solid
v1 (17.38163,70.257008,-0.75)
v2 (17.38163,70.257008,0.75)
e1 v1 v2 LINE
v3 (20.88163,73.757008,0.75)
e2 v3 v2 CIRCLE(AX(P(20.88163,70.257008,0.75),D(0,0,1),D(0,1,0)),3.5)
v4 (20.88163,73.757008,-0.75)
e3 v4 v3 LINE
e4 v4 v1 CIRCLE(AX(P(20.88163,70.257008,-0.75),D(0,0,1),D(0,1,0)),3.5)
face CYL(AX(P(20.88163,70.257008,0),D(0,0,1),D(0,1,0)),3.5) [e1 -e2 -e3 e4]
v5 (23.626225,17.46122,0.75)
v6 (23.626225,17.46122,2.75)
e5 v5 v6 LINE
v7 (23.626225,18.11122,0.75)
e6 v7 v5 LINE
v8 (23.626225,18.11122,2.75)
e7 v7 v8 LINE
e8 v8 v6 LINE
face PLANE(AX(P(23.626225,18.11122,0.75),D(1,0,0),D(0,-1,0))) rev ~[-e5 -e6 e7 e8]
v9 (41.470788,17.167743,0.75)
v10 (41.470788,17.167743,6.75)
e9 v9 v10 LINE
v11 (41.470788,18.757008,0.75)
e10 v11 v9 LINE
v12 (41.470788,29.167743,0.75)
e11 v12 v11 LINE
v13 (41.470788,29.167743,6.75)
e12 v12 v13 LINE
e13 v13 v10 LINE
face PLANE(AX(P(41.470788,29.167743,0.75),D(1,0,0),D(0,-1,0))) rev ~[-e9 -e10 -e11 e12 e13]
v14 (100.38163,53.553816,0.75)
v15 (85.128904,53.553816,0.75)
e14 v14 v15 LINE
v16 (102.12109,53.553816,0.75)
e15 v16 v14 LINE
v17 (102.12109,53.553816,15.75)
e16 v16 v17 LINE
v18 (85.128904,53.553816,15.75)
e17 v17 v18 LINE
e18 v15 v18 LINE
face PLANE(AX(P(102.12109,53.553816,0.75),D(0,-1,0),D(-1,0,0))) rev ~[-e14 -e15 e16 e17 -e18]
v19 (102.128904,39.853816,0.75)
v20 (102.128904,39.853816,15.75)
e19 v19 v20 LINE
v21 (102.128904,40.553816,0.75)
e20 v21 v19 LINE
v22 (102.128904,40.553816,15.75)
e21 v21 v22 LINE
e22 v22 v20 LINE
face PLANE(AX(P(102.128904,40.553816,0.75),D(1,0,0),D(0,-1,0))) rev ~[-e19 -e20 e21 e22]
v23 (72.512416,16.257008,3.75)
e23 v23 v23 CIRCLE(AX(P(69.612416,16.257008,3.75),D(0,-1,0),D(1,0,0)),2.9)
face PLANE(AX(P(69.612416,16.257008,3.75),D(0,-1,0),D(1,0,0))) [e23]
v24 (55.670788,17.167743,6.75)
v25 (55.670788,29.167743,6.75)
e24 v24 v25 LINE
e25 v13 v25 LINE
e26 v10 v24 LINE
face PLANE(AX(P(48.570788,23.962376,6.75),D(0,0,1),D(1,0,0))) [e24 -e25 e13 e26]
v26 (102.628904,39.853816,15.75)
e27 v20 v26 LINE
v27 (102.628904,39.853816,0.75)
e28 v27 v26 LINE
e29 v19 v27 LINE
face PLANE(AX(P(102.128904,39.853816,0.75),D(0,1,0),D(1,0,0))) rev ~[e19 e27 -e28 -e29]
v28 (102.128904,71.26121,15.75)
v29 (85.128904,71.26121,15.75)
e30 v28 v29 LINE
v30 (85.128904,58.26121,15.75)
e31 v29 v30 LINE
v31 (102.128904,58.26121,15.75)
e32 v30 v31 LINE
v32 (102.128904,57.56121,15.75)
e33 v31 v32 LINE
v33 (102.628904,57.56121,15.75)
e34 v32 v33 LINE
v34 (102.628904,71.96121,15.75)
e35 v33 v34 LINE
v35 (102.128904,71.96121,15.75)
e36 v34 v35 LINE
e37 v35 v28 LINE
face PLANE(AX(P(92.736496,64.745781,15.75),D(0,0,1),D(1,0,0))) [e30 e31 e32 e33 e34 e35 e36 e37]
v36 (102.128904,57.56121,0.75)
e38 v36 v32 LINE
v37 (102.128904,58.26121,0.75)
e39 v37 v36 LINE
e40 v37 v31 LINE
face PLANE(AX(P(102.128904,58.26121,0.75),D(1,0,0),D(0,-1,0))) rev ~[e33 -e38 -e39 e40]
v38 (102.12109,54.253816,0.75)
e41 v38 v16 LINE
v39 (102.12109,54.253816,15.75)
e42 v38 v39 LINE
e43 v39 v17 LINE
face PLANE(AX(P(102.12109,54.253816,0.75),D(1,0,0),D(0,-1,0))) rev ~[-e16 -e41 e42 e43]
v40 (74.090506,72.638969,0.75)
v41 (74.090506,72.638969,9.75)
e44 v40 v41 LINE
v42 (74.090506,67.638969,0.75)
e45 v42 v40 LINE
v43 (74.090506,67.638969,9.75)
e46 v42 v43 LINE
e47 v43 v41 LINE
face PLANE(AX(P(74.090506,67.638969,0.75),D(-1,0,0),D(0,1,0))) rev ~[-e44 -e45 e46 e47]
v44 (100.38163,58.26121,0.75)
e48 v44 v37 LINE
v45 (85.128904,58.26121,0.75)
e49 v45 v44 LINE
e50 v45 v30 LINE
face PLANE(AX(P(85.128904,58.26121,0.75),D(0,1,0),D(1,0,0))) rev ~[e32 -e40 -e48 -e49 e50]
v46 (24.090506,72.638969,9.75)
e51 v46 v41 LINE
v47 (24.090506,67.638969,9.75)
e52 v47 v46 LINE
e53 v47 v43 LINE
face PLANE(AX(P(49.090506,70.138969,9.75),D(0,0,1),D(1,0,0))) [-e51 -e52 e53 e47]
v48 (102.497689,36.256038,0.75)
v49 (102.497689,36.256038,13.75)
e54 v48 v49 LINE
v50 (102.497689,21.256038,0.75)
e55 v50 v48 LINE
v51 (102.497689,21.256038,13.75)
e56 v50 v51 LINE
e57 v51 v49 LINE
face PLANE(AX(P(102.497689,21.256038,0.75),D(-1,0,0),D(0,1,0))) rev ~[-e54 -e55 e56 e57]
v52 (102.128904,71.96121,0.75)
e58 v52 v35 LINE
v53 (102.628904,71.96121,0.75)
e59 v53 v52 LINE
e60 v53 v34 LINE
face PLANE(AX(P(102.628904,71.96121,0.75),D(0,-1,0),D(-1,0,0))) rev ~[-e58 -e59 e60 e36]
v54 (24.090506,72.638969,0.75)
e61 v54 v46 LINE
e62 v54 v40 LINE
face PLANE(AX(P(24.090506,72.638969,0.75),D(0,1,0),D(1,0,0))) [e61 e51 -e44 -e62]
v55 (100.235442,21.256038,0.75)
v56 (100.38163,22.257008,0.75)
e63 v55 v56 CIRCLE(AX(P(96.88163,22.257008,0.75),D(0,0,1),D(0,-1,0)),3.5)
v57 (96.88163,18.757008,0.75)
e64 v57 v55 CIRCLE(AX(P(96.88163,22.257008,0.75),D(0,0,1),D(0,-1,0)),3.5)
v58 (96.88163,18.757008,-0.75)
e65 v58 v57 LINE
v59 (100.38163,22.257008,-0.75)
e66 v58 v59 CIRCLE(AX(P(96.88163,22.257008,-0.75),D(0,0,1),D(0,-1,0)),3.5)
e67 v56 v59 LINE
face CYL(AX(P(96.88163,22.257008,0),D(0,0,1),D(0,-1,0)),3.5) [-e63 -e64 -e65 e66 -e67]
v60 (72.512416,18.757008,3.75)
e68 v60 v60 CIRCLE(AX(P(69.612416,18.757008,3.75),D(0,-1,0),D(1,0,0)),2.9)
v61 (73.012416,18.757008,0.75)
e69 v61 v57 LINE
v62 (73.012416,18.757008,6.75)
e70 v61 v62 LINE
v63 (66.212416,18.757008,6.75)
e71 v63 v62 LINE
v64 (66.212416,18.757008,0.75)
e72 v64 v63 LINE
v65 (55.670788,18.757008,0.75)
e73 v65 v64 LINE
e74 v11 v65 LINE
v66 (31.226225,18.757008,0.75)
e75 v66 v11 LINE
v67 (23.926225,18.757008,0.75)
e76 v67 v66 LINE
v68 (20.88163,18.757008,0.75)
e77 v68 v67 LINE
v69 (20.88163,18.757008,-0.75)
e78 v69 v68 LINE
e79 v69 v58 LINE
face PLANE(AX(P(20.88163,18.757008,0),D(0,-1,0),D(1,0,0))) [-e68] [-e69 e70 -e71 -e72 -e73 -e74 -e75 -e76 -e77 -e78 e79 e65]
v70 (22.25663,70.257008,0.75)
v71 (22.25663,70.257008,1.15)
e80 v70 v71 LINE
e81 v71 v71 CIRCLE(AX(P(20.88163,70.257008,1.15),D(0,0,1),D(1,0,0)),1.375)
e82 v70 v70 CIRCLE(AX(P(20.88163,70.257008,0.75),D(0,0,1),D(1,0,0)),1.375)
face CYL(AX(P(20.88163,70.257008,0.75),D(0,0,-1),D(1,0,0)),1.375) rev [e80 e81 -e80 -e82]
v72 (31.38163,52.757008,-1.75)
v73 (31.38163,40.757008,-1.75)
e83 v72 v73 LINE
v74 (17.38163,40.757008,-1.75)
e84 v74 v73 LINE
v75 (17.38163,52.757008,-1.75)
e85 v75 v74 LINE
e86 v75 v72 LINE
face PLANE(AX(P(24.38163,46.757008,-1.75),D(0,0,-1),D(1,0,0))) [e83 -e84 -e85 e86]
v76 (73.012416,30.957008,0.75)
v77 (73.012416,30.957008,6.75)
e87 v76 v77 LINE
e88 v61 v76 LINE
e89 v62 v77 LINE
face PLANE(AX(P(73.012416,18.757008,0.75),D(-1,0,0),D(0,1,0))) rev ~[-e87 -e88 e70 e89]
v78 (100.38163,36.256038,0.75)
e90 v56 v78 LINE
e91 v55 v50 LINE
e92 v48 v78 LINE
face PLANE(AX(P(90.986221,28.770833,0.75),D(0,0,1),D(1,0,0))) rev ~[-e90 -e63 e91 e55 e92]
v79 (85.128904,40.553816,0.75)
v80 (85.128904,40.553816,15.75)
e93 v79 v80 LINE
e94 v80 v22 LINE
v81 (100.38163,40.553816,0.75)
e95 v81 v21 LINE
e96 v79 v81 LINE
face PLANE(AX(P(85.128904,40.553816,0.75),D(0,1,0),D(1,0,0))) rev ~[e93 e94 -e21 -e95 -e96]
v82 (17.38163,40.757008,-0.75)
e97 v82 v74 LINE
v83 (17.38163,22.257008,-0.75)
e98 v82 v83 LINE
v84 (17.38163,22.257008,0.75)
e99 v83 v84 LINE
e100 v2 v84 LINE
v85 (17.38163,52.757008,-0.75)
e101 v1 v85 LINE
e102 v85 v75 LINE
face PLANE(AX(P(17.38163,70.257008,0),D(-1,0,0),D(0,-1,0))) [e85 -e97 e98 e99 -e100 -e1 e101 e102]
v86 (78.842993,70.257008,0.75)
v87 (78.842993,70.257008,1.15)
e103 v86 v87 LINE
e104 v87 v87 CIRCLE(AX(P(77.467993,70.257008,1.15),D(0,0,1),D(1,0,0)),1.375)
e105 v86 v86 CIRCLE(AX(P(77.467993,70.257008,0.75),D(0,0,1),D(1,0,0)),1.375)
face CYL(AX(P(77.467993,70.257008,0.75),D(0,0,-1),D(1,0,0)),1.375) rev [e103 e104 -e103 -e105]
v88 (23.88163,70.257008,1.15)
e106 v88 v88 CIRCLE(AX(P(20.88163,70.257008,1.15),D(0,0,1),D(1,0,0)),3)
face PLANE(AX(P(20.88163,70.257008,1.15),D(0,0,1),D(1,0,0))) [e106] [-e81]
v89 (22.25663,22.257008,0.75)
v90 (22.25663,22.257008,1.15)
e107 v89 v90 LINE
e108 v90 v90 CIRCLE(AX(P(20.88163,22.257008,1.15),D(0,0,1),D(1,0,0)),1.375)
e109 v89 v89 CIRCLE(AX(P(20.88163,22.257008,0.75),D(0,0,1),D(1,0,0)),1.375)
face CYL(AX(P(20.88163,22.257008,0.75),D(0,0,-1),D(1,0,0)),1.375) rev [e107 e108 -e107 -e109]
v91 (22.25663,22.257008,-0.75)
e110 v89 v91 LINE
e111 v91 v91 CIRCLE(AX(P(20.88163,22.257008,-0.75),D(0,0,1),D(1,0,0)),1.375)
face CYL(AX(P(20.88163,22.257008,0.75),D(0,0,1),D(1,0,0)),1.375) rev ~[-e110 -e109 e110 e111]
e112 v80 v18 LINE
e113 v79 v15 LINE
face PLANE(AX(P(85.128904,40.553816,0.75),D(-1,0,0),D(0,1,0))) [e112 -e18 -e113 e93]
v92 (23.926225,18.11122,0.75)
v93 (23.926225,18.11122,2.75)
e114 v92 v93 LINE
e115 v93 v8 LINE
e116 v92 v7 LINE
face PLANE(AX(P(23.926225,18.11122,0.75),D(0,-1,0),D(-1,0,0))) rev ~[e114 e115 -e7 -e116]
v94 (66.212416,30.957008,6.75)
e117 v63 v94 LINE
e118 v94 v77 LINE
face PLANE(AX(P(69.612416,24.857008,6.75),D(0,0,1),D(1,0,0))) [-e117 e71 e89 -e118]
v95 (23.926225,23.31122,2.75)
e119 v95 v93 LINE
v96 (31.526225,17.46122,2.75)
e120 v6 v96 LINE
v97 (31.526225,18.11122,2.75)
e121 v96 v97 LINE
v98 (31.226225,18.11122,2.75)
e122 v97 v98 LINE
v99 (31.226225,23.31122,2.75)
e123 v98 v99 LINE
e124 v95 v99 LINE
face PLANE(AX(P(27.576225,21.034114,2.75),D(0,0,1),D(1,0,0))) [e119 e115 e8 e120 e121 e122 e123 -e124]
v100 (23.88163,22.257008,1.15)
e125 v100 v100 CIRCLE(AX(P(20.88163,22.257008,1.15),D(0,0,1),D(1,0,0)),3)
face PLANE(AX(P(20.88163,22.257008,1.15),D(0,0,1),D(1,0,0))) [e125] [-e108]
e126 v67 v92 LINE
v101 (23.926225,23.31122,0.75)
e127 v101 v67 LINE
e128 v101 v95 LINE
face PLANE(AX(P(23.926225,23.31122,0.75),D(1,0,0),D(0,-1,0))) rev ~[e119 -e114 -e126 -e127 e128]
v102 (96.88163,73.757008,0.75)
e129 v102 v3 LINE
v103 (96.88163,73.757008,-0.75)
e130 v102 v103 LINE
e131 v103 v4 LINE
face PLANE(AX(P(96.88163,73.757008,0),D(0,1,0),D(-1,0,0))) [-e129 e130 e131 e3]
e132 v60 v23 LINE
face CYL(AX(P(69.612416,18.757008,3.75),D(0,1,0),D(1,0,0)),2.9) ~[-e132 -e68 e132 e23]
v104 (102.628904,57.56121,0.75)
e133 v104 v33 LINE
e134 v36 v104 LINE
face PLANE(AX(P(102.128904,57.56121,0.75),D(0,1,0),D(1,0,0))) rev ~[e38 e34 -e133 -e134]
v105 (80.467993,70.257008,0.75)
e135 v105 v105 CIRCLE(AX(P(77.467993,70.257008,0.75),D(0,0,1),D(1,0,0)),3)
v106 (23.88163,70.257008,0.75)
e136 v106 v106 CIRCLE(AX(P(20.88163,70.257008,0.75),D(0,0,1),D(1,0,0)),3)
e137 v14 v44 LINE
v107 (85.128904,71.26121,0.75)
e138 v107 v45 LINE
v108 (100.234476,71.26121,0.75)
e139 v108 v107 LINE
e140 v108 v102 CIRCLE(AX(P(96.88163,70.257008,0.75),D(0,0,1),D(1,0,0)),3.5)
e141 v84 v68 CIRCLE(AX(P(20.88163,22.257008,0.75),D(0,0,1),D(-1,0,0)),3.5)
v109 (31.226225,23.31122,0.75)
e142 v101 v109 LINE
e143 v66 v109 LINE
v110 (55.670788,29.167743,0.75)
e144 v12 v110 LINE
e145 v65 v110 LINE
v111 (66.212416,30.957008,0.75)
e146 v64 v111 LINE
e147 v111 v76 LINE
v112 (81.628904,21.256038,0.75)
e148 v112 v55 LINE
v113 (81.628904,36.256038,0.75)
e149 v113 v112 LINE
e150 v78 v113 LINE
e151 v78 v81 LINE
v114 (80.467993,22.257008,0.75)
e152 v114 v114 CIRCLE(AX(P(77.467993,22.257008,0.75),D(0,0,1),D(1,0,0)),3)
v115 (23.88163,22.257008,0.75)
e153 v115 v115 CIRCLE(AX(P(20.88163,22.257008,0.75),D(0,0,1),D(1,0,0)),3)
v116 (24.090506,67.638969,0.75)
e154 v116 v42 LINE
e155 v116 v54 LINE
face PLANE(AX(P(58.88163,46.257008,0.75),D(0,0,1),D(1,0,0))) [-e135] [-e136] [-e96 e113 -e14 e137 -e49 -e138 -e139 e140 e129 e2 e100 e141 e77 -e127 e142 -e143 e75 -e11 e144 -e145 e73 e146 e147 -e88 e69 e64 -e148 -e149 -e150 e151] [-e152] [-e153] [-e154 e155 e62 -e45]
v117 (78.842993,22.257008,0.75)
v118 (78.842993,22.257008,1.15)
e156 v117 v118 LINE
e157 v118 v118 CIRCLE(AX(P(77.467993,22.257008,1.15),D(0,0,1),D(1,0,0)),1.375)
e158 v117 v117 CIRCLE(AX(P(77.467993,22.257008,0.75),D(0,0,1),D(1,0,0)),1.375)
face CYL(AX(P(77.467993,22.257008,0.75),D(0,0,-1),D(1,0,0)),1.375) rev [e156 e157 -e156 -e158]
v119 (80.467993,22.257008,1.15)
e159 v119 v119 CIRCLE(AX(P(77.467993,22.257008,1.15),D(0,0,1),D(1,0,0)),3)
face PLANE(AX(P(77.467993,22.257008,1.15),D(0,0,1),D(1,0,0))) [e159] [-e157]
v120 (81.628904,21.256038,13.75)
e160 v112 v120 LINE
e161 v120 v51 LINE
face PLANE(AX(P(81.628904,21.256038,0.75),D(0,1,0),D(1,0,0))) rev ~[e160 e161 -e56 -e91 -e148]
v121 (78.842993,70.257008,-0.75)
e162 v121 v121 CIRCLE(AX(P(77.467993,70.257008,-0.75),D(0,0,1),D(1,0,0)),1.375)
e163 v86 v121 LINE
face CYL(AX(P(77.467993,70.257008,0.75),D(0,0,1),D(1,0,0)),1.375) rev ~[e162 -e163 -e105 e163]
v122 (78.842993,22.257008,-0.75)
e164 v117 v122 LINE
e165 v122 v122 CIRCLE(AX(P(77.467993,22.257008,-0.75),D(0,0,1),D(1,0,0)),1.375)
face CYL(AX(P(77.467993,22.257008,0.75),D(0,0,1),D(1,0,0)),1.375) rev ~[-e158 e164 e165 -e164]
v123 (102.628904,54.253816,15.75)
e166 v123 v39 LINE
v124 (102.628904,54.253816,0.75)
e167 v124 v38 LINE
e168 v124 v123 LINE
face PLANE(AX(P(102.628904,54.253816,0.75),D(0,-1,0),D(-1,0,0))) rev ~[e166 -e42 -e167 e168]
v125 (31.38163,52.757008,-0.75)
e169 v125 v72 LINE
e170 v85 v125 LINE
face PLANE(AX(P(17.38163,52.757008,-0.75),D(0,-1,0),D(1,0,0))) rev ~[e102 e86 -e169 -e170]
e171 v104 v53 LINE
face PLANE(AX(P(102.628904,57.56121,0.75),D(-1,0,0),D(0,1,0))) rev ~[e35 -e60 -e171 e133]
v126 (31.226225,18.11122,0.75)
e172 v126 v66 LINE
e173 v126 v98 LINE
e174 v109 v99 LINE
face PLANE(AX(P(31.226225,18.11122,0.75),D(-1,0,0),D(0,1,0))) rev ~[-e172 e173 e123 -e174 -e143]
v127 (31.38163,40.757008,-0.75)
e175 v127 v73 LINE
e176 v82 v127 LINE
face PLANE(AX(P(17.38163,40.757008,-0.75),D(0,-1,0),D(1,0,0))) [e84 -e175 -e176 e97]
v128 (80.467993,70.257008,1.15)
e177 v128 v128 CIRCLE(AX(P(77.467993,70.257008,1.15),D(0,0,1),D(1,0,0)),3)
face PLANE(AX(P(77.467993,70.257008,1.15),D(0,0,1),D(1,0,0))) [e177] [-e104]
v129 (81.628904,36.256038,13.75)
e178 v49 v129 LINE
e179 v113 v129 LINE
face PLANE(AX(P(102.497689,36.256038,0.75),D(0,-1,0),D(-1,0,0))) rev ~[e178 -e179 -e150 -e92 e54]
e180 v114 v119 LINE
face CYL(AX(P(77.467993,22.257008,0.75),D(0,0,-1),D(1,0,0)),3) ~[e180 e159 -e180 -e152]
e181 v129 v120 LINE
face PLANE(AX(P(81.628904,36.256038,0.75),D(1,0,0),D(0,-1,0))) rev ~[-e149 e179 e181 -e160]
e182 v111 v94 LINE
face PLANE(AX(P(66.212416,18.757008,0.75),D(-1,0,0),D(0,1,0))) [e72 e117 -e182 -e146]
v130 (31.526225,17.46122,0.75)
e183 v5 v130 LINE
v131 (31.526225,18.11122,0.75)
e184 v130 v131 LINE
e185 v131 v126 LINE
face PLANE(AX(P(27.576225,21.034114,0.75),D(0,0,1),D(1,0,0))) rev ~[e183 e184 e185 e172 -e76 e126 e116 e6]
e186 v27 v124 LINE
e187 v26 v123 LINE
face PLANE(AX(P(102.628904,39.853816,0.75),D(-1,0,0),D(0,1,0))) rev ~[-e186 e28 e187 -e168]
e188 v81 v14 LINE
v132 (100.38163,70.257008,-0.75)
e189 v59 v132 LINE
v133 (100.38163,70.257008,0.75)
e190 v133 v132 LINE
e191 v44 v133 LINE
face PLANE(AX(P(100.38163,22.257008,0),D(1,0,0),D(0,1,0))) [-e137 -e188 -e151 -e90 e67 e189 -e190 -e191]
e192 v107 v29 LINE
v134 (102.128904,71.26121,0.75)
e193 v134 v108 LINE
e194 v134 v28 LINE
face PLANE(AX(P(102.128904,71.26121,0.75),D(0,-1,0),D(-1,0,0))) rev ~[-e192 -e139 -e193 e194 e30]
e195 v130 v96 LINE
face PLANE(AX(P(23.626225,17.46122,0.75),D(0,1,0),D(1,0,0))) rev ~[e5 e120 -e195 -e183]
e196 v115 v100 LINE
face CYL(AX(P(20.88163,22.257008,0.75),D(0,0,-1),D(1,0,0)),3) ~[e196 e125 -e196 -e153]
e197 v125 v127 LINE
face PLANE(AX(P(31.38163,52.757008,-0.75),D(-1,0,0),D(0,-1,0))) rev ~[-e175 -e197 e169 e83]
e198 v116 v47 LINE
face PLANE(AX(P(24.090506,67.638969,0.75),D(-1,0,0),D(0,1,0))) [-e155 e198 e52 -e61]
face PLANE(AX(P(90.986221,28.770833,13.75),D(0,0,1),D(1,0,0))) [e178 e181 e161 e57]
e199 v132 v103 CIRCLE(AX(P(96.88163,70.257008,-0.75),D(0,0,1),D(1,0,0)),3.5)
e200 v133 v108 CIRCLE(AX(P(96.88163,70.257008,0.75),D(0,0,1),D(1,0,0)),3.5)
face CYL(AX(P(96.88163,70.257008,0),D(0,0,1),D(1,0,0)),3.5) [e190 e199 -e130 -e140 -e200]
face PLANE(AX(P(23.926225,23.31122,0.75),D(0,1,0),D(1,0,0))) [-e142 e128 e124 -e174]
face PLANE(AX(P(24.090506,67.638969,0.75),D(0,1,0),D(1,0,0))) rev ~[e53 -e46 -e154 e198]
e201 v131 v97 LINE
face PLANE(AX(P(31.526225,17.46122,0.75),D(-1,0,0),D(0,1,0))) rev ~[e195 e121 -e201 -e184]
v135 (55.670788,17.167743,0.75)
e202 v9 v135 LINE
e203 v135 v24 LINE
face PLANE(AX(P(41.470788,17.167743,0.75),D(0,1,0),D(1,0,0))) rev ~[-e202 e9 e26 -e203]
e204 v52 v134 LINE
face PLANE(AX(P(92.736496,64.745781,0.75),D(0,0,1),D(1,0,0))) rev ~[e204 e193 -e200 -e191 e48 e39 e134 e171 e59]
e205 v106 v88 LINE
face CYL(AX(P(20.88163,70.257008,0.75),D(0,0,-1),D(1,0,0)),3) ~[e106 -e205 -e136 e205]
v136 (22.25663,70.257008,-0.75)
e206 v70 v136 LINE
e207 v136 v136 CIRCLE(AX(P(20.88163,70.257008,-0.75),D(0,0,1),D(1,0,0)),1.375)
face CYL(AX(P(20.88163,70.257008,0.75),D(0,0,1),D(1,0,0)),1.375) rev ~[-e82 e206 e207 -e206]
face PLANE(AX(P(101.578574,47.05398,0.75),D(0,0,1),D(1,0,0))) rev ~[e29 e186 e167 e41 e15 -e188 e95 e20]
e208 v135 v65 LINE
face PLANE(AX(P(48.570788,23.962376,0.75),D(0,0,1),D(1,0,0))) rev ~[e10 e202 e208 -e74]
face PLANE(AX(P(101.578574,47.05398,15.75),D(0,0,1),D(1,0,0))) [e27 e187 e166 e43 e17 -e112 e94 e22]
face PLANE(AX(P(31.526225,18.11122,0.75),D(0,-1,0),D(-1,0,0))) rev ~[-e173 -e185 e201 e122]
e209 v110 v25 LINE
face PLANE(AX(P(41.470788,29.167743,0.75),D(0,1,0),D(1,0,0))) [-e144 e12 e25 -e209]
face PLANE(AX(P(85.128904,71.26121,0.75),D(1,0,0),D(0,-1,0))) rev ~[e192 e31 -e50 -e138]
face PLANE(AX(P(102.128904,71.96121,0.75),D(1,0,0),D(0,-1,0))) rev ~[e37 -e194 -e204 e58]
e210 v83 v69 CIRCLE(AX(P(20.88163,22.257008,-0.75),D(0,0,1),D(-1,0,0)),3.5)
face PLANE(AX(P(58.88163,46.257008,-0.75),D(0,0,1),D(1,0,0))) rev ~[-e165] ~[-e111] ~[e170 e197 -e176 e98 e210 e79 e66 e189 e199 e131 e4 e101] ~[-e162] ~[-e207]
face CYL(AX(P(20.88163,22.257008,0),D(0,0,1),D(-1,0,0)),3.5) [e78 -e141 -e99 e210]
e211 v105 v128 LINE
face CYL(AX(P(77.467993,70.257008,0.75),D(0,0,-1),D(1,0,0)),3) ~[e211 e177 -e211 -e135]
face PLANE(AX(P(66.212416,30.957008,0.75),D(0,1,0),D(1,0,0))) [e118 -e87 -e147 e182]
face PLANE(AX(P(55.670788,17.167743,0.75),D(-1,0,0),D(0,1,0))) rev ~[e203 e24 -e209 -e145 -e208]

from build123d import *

# Parameters (mm, degrees)
F1_DEPTH  = 0.75
F2_W      = 15.2527261972
F2_H      = 13
F3_DEPTH  = 15
F4_DEPTH  = 2
F5_W      = 50
F5_H      = 5
F6_DEPTH  = 9
F7_W      = 7.3
F7_H      = 4.5542112009
F7_W_2    = 14.2
F7_H_2    = 10.4107348667
F7_W_3    = 6.8
F7_H_3    = 12.2
F7_H_4    = 1.5892651333
F8_DEPTH  = 6
F9_DEPTH  = 4
F10_W     = 14
F10_H     = 12
F11_DEPTH = 1
F12_R     = 2.9
F13_DEPTH = 2.5
F14_R     = 3
F14_R_2   = 1.375
F15_DEPTH = 0.4
F16_DEPTH = 25


with BuildPart() as f1:
    # F0 (on Top) → F1 (new body, symmetric)
    with BuildSketch(Plane.XY):
        with BuildLine():
            Line((96.8816299438, 73.7570084287), (20.8816299438, 73.7570084287))
            ThreePointArc((20.8816299438, 73.7570084287), (18.4067562097, 72.7318821628), (17.3816299438, 70.2570084287))
            Line((17.3816299438, 70.2570084287), (17.3816299438, 22.2570084287))
            ThreePointArc((17.3816299438, 22.2570084287), (18.4067562097, 19.7821346945), (20.8816299438, 18.7570084287))
            Line((20.8816299438, 18.7570084287), (96.8816299438, 18.7570084287))
            ThreePointArc((96.8816299438, 18.7570084287), (99.356503678, 19.7821346945), (100.3816299438, 22.2570084287))
            Line((100.3816299438, 22.2570084287), (100.3816299438, 70.2570084287))
            ThreePointArc((100.3816299438, 70.2570084287), (99.356503678, 72.7318821628), (96.8816299438, 73.7570084287))
        make_face()
    extrude(amount=F1_DEPTH, both=True)

    # F2 (on face) → F3 (join)
    with BuildSketch(Plane.XY.offset(0.75)):
        with BuildLine():
            Line((100.2344762848, 71.2612103079), (85.1289037466, 71.2612103079))
            Line((85.1289037466, 71.2612103079), (85.1289037466, 58.2612103079))
            Line((85.1289037466, 58.2612103079), (100.3816299438, 58.2612103079))
            Line((100.3816299438, 58.2612103079), (100.3816299438, 70.2570084287))
            ThreePointArc((100.3816299438, 70.2570084287), (100.3446461287, 70.7644716327), (100.2344762848, 71.2612103079))
        make_face()
        with BuildLine():
            Line((102.1289037466, 71.2612103079), (100.2344762848, 71.2612103079))
            ThreePointArc((100.2344762848, 71.2612103079), (100.3446461287, 70.7644716327), (100.3816299438, 70.2570084287))
            Line((100.3816299438, 70.2570084287), (100.3816299438, 58.2612103079))
            Line((100.3816299438, 58.2612103079), (102.1289037466, 58.2612103079))
            Line((102.1289037466, 58.2612103079), (102.1289037466, 57.5612103079))
            Line((102.1289037466, 57.5612103079), (102.6289037466, 57.5612103079))
            Line((102.6289037466, 57.5612103079), (102.6289037466, 71.9612103079))
            Line((102.6289037466, 71.9612103079), (102.1289037466, 71.9612103079))
            Line((102.1289037466, 71.9612103079), (102.1289037466, 71.2612103079))
        make_face()
        Polygon((102.1210900545, 53.5538156629), (100.3816299438, 53.5538156629), (100.3816299438, 40.5538156629), (102.1289037466, 40.5538156629), (102.1289037466, 39.8538156629), (102.6289037466, 39.8538156629), (102.6289037466, 54.2538156629), (102.1210900545, 54.2538156629), align=None)
        with Locations((92.7552668452, 47.0538156629)):
            Rectangle(F2_W, F2_H)
        with BuildLine():
            Line((100.3816299438, 22.2570084287), (100.3816299438, 36.2560376525))
            Line((100.3816299438, 36.2560376525), (85.1289037466, 36.2560376525))
            Line((85.1289037466, 36.2560376525), (81.6289037466, 36.2560376525))
            Line((81.6289037466, 36.2560376525), (81.6289037466, 21.2560376525))
            Line((81.6289037466, 21.2560376525), (85.1289037466, 21.2560376525))
            Line((85.1289037466, 21.2560376525), (100.2354423276, 21.2560376525))
            ThreePointArc((100.2354423276, 21.2560376525), (100.3448902101, 21.7512136793), (100.3816299438, 22.2570084287))
        make_face()
        with BuildLine():
            Line((102.4976894259, 36.2560376525), (100.3816299438, 36.2560376525))
            Line((100.3816299438, 36.2560376525), (100.3816299438, 22.2570084287))
            ThreePointArc((100.3816299438, 22.2570084287), (100.3448902101, 21.7512136793), (100.2354423276, 21.2560376525))
            Line((100.2354423276, 21.2560376525), (102.4976894259, 21.2560376525))
            Line((102.4976894259, 21.2560376525), (102.4976894259, 36.2560376525))
        make_face()
    extrude(amount=F3_DEPTH)

    # F4 (cut): a face of the model
    f4_faces = [f1.faces().sort_by_distance(p)[0] for p in [
        (92.0632965863, 28.7560376525, 15.75),
    ]]
    extrude(f4_faces, amount=-F4_DEPTH, mode=Mode.SUBTRACT)

    # F5 (on face) → F6 (join)
    with BuildSketch(Plane.XY.offset(0.75)):
        with Locations((49.090506424, 70.1389685273)):
            Rectangle(F5_W, F5_H)
    extrude(amount=F6_DEPTH)

    # F7 (on face) → F8 (join)
    with BuildSketch(Plane.XY.offset(0.75)):
        with Locations((27.5762250692, 21.0341140292)):
            Rectangle(F7_W, F7_H)
        Polygon((31.2262250692, 18.7570084287), (23.9262250692, 18.7570084287), (23.9262250692, 18.1112196296), (23.6262250692, 18.1112196296), (23.6262250692, 17.4612196296), (31.5262250692, 17.4612196296), (31.5262250692, 18.1112196296), (31.2262250692, 18.1112196296), align=None)
        with Locations((48.5707884192, 23.9623758621)):
            Rectangle(F7_W_2, F7_H_2)
        with Locations((69.6124156952, 24.8570084287)):
            Rectangle(F7_W_3, F7_H_3)
        with Locations((48.5707884192, 17.9623758621)):
            Rectangle(F7_W_2, F7_H_4)
    extrude(amount=F8_DEPTH)

    # F9 (cut): a face of the model
    f9_faces = [f1.faces().sort_by_distance(p)[0] for p in [
        (27.5762250692, 20.3626902179, 6.75),
    ]]
    extrude(f9_faces, amount=-F9_DEPTH, mode=Mode.SUBTRACT)

    # F10 (on face) → F11 (join)
    with BuildSketch(Plane(origin=(0, 0, -0.75), x_dir=(1, 0, 0), z_dir=(0, 0, -1))):
        with Locations((24.3816299438, -46.7570084287)):
            Rectangle(F10_W, F10_H)
    extrude(amount=F11_DEPTH)

    # F12 (on face) → F13 (join)
    with BuildSketch(Plane.XZ.offset(-18.7570084287)):
        with Locations((69.6124156952, 3.75)):
            Circle(F12_R)
    extrude(amount=F13_DEPTH)

    # F14 (on face) → F15 (join)
    with BuildSketch(Plane.XY.offset(0.75)):
        with Locations((77.4679929018, 70.2570084287)):
            Circle(F14_R)
        with Locations((77.4679929018, 70.2570084287)):
            Circle(F14_R_2, mode=Mode.SUBTRACT)
        with Locations((20.8816299438, 70.2570084287)):
            Circle(F14_R)
        with Locations((20.8816299438, 70.2570084287)):
            Circle(F14_R_2, mode=Mode.SUBTRACT)
        with Locations((20.8816299438, 22.2570084287)):
            Circle(F14_R)
        with Locations((20.8816299438, 22.2570084287)):
            Circle(F14_R_2, mode=Mode.SUBTRACT)
        with Locations((77.4679929018, 22.2570084287)):
            Circle(F14_R)
        with Locations((77.4679929018, 22.2570084287)):
            Circle(F14_R_2, mode=Mode.SUBTRACT)
    extrude(amount=F15_DEPTH)

    # F16 (cut): faces of the model
    f16_faces = [f1.faces().sort_by_distance(p)[0] for p in [
        (77.4679929018, 70.2570084287, 0.75),
        (77.4679929018, 22.2570084287, 0.75),
        (20.8816299438, 22.2570084287, 0.75),
        (20.8816299438, 70.2570084287, 0.75),
    ]]
    extrude(f16_faces, amount=-F16_DEPTH, mode=Mode.SUBTRACT)


solid = f1.part
